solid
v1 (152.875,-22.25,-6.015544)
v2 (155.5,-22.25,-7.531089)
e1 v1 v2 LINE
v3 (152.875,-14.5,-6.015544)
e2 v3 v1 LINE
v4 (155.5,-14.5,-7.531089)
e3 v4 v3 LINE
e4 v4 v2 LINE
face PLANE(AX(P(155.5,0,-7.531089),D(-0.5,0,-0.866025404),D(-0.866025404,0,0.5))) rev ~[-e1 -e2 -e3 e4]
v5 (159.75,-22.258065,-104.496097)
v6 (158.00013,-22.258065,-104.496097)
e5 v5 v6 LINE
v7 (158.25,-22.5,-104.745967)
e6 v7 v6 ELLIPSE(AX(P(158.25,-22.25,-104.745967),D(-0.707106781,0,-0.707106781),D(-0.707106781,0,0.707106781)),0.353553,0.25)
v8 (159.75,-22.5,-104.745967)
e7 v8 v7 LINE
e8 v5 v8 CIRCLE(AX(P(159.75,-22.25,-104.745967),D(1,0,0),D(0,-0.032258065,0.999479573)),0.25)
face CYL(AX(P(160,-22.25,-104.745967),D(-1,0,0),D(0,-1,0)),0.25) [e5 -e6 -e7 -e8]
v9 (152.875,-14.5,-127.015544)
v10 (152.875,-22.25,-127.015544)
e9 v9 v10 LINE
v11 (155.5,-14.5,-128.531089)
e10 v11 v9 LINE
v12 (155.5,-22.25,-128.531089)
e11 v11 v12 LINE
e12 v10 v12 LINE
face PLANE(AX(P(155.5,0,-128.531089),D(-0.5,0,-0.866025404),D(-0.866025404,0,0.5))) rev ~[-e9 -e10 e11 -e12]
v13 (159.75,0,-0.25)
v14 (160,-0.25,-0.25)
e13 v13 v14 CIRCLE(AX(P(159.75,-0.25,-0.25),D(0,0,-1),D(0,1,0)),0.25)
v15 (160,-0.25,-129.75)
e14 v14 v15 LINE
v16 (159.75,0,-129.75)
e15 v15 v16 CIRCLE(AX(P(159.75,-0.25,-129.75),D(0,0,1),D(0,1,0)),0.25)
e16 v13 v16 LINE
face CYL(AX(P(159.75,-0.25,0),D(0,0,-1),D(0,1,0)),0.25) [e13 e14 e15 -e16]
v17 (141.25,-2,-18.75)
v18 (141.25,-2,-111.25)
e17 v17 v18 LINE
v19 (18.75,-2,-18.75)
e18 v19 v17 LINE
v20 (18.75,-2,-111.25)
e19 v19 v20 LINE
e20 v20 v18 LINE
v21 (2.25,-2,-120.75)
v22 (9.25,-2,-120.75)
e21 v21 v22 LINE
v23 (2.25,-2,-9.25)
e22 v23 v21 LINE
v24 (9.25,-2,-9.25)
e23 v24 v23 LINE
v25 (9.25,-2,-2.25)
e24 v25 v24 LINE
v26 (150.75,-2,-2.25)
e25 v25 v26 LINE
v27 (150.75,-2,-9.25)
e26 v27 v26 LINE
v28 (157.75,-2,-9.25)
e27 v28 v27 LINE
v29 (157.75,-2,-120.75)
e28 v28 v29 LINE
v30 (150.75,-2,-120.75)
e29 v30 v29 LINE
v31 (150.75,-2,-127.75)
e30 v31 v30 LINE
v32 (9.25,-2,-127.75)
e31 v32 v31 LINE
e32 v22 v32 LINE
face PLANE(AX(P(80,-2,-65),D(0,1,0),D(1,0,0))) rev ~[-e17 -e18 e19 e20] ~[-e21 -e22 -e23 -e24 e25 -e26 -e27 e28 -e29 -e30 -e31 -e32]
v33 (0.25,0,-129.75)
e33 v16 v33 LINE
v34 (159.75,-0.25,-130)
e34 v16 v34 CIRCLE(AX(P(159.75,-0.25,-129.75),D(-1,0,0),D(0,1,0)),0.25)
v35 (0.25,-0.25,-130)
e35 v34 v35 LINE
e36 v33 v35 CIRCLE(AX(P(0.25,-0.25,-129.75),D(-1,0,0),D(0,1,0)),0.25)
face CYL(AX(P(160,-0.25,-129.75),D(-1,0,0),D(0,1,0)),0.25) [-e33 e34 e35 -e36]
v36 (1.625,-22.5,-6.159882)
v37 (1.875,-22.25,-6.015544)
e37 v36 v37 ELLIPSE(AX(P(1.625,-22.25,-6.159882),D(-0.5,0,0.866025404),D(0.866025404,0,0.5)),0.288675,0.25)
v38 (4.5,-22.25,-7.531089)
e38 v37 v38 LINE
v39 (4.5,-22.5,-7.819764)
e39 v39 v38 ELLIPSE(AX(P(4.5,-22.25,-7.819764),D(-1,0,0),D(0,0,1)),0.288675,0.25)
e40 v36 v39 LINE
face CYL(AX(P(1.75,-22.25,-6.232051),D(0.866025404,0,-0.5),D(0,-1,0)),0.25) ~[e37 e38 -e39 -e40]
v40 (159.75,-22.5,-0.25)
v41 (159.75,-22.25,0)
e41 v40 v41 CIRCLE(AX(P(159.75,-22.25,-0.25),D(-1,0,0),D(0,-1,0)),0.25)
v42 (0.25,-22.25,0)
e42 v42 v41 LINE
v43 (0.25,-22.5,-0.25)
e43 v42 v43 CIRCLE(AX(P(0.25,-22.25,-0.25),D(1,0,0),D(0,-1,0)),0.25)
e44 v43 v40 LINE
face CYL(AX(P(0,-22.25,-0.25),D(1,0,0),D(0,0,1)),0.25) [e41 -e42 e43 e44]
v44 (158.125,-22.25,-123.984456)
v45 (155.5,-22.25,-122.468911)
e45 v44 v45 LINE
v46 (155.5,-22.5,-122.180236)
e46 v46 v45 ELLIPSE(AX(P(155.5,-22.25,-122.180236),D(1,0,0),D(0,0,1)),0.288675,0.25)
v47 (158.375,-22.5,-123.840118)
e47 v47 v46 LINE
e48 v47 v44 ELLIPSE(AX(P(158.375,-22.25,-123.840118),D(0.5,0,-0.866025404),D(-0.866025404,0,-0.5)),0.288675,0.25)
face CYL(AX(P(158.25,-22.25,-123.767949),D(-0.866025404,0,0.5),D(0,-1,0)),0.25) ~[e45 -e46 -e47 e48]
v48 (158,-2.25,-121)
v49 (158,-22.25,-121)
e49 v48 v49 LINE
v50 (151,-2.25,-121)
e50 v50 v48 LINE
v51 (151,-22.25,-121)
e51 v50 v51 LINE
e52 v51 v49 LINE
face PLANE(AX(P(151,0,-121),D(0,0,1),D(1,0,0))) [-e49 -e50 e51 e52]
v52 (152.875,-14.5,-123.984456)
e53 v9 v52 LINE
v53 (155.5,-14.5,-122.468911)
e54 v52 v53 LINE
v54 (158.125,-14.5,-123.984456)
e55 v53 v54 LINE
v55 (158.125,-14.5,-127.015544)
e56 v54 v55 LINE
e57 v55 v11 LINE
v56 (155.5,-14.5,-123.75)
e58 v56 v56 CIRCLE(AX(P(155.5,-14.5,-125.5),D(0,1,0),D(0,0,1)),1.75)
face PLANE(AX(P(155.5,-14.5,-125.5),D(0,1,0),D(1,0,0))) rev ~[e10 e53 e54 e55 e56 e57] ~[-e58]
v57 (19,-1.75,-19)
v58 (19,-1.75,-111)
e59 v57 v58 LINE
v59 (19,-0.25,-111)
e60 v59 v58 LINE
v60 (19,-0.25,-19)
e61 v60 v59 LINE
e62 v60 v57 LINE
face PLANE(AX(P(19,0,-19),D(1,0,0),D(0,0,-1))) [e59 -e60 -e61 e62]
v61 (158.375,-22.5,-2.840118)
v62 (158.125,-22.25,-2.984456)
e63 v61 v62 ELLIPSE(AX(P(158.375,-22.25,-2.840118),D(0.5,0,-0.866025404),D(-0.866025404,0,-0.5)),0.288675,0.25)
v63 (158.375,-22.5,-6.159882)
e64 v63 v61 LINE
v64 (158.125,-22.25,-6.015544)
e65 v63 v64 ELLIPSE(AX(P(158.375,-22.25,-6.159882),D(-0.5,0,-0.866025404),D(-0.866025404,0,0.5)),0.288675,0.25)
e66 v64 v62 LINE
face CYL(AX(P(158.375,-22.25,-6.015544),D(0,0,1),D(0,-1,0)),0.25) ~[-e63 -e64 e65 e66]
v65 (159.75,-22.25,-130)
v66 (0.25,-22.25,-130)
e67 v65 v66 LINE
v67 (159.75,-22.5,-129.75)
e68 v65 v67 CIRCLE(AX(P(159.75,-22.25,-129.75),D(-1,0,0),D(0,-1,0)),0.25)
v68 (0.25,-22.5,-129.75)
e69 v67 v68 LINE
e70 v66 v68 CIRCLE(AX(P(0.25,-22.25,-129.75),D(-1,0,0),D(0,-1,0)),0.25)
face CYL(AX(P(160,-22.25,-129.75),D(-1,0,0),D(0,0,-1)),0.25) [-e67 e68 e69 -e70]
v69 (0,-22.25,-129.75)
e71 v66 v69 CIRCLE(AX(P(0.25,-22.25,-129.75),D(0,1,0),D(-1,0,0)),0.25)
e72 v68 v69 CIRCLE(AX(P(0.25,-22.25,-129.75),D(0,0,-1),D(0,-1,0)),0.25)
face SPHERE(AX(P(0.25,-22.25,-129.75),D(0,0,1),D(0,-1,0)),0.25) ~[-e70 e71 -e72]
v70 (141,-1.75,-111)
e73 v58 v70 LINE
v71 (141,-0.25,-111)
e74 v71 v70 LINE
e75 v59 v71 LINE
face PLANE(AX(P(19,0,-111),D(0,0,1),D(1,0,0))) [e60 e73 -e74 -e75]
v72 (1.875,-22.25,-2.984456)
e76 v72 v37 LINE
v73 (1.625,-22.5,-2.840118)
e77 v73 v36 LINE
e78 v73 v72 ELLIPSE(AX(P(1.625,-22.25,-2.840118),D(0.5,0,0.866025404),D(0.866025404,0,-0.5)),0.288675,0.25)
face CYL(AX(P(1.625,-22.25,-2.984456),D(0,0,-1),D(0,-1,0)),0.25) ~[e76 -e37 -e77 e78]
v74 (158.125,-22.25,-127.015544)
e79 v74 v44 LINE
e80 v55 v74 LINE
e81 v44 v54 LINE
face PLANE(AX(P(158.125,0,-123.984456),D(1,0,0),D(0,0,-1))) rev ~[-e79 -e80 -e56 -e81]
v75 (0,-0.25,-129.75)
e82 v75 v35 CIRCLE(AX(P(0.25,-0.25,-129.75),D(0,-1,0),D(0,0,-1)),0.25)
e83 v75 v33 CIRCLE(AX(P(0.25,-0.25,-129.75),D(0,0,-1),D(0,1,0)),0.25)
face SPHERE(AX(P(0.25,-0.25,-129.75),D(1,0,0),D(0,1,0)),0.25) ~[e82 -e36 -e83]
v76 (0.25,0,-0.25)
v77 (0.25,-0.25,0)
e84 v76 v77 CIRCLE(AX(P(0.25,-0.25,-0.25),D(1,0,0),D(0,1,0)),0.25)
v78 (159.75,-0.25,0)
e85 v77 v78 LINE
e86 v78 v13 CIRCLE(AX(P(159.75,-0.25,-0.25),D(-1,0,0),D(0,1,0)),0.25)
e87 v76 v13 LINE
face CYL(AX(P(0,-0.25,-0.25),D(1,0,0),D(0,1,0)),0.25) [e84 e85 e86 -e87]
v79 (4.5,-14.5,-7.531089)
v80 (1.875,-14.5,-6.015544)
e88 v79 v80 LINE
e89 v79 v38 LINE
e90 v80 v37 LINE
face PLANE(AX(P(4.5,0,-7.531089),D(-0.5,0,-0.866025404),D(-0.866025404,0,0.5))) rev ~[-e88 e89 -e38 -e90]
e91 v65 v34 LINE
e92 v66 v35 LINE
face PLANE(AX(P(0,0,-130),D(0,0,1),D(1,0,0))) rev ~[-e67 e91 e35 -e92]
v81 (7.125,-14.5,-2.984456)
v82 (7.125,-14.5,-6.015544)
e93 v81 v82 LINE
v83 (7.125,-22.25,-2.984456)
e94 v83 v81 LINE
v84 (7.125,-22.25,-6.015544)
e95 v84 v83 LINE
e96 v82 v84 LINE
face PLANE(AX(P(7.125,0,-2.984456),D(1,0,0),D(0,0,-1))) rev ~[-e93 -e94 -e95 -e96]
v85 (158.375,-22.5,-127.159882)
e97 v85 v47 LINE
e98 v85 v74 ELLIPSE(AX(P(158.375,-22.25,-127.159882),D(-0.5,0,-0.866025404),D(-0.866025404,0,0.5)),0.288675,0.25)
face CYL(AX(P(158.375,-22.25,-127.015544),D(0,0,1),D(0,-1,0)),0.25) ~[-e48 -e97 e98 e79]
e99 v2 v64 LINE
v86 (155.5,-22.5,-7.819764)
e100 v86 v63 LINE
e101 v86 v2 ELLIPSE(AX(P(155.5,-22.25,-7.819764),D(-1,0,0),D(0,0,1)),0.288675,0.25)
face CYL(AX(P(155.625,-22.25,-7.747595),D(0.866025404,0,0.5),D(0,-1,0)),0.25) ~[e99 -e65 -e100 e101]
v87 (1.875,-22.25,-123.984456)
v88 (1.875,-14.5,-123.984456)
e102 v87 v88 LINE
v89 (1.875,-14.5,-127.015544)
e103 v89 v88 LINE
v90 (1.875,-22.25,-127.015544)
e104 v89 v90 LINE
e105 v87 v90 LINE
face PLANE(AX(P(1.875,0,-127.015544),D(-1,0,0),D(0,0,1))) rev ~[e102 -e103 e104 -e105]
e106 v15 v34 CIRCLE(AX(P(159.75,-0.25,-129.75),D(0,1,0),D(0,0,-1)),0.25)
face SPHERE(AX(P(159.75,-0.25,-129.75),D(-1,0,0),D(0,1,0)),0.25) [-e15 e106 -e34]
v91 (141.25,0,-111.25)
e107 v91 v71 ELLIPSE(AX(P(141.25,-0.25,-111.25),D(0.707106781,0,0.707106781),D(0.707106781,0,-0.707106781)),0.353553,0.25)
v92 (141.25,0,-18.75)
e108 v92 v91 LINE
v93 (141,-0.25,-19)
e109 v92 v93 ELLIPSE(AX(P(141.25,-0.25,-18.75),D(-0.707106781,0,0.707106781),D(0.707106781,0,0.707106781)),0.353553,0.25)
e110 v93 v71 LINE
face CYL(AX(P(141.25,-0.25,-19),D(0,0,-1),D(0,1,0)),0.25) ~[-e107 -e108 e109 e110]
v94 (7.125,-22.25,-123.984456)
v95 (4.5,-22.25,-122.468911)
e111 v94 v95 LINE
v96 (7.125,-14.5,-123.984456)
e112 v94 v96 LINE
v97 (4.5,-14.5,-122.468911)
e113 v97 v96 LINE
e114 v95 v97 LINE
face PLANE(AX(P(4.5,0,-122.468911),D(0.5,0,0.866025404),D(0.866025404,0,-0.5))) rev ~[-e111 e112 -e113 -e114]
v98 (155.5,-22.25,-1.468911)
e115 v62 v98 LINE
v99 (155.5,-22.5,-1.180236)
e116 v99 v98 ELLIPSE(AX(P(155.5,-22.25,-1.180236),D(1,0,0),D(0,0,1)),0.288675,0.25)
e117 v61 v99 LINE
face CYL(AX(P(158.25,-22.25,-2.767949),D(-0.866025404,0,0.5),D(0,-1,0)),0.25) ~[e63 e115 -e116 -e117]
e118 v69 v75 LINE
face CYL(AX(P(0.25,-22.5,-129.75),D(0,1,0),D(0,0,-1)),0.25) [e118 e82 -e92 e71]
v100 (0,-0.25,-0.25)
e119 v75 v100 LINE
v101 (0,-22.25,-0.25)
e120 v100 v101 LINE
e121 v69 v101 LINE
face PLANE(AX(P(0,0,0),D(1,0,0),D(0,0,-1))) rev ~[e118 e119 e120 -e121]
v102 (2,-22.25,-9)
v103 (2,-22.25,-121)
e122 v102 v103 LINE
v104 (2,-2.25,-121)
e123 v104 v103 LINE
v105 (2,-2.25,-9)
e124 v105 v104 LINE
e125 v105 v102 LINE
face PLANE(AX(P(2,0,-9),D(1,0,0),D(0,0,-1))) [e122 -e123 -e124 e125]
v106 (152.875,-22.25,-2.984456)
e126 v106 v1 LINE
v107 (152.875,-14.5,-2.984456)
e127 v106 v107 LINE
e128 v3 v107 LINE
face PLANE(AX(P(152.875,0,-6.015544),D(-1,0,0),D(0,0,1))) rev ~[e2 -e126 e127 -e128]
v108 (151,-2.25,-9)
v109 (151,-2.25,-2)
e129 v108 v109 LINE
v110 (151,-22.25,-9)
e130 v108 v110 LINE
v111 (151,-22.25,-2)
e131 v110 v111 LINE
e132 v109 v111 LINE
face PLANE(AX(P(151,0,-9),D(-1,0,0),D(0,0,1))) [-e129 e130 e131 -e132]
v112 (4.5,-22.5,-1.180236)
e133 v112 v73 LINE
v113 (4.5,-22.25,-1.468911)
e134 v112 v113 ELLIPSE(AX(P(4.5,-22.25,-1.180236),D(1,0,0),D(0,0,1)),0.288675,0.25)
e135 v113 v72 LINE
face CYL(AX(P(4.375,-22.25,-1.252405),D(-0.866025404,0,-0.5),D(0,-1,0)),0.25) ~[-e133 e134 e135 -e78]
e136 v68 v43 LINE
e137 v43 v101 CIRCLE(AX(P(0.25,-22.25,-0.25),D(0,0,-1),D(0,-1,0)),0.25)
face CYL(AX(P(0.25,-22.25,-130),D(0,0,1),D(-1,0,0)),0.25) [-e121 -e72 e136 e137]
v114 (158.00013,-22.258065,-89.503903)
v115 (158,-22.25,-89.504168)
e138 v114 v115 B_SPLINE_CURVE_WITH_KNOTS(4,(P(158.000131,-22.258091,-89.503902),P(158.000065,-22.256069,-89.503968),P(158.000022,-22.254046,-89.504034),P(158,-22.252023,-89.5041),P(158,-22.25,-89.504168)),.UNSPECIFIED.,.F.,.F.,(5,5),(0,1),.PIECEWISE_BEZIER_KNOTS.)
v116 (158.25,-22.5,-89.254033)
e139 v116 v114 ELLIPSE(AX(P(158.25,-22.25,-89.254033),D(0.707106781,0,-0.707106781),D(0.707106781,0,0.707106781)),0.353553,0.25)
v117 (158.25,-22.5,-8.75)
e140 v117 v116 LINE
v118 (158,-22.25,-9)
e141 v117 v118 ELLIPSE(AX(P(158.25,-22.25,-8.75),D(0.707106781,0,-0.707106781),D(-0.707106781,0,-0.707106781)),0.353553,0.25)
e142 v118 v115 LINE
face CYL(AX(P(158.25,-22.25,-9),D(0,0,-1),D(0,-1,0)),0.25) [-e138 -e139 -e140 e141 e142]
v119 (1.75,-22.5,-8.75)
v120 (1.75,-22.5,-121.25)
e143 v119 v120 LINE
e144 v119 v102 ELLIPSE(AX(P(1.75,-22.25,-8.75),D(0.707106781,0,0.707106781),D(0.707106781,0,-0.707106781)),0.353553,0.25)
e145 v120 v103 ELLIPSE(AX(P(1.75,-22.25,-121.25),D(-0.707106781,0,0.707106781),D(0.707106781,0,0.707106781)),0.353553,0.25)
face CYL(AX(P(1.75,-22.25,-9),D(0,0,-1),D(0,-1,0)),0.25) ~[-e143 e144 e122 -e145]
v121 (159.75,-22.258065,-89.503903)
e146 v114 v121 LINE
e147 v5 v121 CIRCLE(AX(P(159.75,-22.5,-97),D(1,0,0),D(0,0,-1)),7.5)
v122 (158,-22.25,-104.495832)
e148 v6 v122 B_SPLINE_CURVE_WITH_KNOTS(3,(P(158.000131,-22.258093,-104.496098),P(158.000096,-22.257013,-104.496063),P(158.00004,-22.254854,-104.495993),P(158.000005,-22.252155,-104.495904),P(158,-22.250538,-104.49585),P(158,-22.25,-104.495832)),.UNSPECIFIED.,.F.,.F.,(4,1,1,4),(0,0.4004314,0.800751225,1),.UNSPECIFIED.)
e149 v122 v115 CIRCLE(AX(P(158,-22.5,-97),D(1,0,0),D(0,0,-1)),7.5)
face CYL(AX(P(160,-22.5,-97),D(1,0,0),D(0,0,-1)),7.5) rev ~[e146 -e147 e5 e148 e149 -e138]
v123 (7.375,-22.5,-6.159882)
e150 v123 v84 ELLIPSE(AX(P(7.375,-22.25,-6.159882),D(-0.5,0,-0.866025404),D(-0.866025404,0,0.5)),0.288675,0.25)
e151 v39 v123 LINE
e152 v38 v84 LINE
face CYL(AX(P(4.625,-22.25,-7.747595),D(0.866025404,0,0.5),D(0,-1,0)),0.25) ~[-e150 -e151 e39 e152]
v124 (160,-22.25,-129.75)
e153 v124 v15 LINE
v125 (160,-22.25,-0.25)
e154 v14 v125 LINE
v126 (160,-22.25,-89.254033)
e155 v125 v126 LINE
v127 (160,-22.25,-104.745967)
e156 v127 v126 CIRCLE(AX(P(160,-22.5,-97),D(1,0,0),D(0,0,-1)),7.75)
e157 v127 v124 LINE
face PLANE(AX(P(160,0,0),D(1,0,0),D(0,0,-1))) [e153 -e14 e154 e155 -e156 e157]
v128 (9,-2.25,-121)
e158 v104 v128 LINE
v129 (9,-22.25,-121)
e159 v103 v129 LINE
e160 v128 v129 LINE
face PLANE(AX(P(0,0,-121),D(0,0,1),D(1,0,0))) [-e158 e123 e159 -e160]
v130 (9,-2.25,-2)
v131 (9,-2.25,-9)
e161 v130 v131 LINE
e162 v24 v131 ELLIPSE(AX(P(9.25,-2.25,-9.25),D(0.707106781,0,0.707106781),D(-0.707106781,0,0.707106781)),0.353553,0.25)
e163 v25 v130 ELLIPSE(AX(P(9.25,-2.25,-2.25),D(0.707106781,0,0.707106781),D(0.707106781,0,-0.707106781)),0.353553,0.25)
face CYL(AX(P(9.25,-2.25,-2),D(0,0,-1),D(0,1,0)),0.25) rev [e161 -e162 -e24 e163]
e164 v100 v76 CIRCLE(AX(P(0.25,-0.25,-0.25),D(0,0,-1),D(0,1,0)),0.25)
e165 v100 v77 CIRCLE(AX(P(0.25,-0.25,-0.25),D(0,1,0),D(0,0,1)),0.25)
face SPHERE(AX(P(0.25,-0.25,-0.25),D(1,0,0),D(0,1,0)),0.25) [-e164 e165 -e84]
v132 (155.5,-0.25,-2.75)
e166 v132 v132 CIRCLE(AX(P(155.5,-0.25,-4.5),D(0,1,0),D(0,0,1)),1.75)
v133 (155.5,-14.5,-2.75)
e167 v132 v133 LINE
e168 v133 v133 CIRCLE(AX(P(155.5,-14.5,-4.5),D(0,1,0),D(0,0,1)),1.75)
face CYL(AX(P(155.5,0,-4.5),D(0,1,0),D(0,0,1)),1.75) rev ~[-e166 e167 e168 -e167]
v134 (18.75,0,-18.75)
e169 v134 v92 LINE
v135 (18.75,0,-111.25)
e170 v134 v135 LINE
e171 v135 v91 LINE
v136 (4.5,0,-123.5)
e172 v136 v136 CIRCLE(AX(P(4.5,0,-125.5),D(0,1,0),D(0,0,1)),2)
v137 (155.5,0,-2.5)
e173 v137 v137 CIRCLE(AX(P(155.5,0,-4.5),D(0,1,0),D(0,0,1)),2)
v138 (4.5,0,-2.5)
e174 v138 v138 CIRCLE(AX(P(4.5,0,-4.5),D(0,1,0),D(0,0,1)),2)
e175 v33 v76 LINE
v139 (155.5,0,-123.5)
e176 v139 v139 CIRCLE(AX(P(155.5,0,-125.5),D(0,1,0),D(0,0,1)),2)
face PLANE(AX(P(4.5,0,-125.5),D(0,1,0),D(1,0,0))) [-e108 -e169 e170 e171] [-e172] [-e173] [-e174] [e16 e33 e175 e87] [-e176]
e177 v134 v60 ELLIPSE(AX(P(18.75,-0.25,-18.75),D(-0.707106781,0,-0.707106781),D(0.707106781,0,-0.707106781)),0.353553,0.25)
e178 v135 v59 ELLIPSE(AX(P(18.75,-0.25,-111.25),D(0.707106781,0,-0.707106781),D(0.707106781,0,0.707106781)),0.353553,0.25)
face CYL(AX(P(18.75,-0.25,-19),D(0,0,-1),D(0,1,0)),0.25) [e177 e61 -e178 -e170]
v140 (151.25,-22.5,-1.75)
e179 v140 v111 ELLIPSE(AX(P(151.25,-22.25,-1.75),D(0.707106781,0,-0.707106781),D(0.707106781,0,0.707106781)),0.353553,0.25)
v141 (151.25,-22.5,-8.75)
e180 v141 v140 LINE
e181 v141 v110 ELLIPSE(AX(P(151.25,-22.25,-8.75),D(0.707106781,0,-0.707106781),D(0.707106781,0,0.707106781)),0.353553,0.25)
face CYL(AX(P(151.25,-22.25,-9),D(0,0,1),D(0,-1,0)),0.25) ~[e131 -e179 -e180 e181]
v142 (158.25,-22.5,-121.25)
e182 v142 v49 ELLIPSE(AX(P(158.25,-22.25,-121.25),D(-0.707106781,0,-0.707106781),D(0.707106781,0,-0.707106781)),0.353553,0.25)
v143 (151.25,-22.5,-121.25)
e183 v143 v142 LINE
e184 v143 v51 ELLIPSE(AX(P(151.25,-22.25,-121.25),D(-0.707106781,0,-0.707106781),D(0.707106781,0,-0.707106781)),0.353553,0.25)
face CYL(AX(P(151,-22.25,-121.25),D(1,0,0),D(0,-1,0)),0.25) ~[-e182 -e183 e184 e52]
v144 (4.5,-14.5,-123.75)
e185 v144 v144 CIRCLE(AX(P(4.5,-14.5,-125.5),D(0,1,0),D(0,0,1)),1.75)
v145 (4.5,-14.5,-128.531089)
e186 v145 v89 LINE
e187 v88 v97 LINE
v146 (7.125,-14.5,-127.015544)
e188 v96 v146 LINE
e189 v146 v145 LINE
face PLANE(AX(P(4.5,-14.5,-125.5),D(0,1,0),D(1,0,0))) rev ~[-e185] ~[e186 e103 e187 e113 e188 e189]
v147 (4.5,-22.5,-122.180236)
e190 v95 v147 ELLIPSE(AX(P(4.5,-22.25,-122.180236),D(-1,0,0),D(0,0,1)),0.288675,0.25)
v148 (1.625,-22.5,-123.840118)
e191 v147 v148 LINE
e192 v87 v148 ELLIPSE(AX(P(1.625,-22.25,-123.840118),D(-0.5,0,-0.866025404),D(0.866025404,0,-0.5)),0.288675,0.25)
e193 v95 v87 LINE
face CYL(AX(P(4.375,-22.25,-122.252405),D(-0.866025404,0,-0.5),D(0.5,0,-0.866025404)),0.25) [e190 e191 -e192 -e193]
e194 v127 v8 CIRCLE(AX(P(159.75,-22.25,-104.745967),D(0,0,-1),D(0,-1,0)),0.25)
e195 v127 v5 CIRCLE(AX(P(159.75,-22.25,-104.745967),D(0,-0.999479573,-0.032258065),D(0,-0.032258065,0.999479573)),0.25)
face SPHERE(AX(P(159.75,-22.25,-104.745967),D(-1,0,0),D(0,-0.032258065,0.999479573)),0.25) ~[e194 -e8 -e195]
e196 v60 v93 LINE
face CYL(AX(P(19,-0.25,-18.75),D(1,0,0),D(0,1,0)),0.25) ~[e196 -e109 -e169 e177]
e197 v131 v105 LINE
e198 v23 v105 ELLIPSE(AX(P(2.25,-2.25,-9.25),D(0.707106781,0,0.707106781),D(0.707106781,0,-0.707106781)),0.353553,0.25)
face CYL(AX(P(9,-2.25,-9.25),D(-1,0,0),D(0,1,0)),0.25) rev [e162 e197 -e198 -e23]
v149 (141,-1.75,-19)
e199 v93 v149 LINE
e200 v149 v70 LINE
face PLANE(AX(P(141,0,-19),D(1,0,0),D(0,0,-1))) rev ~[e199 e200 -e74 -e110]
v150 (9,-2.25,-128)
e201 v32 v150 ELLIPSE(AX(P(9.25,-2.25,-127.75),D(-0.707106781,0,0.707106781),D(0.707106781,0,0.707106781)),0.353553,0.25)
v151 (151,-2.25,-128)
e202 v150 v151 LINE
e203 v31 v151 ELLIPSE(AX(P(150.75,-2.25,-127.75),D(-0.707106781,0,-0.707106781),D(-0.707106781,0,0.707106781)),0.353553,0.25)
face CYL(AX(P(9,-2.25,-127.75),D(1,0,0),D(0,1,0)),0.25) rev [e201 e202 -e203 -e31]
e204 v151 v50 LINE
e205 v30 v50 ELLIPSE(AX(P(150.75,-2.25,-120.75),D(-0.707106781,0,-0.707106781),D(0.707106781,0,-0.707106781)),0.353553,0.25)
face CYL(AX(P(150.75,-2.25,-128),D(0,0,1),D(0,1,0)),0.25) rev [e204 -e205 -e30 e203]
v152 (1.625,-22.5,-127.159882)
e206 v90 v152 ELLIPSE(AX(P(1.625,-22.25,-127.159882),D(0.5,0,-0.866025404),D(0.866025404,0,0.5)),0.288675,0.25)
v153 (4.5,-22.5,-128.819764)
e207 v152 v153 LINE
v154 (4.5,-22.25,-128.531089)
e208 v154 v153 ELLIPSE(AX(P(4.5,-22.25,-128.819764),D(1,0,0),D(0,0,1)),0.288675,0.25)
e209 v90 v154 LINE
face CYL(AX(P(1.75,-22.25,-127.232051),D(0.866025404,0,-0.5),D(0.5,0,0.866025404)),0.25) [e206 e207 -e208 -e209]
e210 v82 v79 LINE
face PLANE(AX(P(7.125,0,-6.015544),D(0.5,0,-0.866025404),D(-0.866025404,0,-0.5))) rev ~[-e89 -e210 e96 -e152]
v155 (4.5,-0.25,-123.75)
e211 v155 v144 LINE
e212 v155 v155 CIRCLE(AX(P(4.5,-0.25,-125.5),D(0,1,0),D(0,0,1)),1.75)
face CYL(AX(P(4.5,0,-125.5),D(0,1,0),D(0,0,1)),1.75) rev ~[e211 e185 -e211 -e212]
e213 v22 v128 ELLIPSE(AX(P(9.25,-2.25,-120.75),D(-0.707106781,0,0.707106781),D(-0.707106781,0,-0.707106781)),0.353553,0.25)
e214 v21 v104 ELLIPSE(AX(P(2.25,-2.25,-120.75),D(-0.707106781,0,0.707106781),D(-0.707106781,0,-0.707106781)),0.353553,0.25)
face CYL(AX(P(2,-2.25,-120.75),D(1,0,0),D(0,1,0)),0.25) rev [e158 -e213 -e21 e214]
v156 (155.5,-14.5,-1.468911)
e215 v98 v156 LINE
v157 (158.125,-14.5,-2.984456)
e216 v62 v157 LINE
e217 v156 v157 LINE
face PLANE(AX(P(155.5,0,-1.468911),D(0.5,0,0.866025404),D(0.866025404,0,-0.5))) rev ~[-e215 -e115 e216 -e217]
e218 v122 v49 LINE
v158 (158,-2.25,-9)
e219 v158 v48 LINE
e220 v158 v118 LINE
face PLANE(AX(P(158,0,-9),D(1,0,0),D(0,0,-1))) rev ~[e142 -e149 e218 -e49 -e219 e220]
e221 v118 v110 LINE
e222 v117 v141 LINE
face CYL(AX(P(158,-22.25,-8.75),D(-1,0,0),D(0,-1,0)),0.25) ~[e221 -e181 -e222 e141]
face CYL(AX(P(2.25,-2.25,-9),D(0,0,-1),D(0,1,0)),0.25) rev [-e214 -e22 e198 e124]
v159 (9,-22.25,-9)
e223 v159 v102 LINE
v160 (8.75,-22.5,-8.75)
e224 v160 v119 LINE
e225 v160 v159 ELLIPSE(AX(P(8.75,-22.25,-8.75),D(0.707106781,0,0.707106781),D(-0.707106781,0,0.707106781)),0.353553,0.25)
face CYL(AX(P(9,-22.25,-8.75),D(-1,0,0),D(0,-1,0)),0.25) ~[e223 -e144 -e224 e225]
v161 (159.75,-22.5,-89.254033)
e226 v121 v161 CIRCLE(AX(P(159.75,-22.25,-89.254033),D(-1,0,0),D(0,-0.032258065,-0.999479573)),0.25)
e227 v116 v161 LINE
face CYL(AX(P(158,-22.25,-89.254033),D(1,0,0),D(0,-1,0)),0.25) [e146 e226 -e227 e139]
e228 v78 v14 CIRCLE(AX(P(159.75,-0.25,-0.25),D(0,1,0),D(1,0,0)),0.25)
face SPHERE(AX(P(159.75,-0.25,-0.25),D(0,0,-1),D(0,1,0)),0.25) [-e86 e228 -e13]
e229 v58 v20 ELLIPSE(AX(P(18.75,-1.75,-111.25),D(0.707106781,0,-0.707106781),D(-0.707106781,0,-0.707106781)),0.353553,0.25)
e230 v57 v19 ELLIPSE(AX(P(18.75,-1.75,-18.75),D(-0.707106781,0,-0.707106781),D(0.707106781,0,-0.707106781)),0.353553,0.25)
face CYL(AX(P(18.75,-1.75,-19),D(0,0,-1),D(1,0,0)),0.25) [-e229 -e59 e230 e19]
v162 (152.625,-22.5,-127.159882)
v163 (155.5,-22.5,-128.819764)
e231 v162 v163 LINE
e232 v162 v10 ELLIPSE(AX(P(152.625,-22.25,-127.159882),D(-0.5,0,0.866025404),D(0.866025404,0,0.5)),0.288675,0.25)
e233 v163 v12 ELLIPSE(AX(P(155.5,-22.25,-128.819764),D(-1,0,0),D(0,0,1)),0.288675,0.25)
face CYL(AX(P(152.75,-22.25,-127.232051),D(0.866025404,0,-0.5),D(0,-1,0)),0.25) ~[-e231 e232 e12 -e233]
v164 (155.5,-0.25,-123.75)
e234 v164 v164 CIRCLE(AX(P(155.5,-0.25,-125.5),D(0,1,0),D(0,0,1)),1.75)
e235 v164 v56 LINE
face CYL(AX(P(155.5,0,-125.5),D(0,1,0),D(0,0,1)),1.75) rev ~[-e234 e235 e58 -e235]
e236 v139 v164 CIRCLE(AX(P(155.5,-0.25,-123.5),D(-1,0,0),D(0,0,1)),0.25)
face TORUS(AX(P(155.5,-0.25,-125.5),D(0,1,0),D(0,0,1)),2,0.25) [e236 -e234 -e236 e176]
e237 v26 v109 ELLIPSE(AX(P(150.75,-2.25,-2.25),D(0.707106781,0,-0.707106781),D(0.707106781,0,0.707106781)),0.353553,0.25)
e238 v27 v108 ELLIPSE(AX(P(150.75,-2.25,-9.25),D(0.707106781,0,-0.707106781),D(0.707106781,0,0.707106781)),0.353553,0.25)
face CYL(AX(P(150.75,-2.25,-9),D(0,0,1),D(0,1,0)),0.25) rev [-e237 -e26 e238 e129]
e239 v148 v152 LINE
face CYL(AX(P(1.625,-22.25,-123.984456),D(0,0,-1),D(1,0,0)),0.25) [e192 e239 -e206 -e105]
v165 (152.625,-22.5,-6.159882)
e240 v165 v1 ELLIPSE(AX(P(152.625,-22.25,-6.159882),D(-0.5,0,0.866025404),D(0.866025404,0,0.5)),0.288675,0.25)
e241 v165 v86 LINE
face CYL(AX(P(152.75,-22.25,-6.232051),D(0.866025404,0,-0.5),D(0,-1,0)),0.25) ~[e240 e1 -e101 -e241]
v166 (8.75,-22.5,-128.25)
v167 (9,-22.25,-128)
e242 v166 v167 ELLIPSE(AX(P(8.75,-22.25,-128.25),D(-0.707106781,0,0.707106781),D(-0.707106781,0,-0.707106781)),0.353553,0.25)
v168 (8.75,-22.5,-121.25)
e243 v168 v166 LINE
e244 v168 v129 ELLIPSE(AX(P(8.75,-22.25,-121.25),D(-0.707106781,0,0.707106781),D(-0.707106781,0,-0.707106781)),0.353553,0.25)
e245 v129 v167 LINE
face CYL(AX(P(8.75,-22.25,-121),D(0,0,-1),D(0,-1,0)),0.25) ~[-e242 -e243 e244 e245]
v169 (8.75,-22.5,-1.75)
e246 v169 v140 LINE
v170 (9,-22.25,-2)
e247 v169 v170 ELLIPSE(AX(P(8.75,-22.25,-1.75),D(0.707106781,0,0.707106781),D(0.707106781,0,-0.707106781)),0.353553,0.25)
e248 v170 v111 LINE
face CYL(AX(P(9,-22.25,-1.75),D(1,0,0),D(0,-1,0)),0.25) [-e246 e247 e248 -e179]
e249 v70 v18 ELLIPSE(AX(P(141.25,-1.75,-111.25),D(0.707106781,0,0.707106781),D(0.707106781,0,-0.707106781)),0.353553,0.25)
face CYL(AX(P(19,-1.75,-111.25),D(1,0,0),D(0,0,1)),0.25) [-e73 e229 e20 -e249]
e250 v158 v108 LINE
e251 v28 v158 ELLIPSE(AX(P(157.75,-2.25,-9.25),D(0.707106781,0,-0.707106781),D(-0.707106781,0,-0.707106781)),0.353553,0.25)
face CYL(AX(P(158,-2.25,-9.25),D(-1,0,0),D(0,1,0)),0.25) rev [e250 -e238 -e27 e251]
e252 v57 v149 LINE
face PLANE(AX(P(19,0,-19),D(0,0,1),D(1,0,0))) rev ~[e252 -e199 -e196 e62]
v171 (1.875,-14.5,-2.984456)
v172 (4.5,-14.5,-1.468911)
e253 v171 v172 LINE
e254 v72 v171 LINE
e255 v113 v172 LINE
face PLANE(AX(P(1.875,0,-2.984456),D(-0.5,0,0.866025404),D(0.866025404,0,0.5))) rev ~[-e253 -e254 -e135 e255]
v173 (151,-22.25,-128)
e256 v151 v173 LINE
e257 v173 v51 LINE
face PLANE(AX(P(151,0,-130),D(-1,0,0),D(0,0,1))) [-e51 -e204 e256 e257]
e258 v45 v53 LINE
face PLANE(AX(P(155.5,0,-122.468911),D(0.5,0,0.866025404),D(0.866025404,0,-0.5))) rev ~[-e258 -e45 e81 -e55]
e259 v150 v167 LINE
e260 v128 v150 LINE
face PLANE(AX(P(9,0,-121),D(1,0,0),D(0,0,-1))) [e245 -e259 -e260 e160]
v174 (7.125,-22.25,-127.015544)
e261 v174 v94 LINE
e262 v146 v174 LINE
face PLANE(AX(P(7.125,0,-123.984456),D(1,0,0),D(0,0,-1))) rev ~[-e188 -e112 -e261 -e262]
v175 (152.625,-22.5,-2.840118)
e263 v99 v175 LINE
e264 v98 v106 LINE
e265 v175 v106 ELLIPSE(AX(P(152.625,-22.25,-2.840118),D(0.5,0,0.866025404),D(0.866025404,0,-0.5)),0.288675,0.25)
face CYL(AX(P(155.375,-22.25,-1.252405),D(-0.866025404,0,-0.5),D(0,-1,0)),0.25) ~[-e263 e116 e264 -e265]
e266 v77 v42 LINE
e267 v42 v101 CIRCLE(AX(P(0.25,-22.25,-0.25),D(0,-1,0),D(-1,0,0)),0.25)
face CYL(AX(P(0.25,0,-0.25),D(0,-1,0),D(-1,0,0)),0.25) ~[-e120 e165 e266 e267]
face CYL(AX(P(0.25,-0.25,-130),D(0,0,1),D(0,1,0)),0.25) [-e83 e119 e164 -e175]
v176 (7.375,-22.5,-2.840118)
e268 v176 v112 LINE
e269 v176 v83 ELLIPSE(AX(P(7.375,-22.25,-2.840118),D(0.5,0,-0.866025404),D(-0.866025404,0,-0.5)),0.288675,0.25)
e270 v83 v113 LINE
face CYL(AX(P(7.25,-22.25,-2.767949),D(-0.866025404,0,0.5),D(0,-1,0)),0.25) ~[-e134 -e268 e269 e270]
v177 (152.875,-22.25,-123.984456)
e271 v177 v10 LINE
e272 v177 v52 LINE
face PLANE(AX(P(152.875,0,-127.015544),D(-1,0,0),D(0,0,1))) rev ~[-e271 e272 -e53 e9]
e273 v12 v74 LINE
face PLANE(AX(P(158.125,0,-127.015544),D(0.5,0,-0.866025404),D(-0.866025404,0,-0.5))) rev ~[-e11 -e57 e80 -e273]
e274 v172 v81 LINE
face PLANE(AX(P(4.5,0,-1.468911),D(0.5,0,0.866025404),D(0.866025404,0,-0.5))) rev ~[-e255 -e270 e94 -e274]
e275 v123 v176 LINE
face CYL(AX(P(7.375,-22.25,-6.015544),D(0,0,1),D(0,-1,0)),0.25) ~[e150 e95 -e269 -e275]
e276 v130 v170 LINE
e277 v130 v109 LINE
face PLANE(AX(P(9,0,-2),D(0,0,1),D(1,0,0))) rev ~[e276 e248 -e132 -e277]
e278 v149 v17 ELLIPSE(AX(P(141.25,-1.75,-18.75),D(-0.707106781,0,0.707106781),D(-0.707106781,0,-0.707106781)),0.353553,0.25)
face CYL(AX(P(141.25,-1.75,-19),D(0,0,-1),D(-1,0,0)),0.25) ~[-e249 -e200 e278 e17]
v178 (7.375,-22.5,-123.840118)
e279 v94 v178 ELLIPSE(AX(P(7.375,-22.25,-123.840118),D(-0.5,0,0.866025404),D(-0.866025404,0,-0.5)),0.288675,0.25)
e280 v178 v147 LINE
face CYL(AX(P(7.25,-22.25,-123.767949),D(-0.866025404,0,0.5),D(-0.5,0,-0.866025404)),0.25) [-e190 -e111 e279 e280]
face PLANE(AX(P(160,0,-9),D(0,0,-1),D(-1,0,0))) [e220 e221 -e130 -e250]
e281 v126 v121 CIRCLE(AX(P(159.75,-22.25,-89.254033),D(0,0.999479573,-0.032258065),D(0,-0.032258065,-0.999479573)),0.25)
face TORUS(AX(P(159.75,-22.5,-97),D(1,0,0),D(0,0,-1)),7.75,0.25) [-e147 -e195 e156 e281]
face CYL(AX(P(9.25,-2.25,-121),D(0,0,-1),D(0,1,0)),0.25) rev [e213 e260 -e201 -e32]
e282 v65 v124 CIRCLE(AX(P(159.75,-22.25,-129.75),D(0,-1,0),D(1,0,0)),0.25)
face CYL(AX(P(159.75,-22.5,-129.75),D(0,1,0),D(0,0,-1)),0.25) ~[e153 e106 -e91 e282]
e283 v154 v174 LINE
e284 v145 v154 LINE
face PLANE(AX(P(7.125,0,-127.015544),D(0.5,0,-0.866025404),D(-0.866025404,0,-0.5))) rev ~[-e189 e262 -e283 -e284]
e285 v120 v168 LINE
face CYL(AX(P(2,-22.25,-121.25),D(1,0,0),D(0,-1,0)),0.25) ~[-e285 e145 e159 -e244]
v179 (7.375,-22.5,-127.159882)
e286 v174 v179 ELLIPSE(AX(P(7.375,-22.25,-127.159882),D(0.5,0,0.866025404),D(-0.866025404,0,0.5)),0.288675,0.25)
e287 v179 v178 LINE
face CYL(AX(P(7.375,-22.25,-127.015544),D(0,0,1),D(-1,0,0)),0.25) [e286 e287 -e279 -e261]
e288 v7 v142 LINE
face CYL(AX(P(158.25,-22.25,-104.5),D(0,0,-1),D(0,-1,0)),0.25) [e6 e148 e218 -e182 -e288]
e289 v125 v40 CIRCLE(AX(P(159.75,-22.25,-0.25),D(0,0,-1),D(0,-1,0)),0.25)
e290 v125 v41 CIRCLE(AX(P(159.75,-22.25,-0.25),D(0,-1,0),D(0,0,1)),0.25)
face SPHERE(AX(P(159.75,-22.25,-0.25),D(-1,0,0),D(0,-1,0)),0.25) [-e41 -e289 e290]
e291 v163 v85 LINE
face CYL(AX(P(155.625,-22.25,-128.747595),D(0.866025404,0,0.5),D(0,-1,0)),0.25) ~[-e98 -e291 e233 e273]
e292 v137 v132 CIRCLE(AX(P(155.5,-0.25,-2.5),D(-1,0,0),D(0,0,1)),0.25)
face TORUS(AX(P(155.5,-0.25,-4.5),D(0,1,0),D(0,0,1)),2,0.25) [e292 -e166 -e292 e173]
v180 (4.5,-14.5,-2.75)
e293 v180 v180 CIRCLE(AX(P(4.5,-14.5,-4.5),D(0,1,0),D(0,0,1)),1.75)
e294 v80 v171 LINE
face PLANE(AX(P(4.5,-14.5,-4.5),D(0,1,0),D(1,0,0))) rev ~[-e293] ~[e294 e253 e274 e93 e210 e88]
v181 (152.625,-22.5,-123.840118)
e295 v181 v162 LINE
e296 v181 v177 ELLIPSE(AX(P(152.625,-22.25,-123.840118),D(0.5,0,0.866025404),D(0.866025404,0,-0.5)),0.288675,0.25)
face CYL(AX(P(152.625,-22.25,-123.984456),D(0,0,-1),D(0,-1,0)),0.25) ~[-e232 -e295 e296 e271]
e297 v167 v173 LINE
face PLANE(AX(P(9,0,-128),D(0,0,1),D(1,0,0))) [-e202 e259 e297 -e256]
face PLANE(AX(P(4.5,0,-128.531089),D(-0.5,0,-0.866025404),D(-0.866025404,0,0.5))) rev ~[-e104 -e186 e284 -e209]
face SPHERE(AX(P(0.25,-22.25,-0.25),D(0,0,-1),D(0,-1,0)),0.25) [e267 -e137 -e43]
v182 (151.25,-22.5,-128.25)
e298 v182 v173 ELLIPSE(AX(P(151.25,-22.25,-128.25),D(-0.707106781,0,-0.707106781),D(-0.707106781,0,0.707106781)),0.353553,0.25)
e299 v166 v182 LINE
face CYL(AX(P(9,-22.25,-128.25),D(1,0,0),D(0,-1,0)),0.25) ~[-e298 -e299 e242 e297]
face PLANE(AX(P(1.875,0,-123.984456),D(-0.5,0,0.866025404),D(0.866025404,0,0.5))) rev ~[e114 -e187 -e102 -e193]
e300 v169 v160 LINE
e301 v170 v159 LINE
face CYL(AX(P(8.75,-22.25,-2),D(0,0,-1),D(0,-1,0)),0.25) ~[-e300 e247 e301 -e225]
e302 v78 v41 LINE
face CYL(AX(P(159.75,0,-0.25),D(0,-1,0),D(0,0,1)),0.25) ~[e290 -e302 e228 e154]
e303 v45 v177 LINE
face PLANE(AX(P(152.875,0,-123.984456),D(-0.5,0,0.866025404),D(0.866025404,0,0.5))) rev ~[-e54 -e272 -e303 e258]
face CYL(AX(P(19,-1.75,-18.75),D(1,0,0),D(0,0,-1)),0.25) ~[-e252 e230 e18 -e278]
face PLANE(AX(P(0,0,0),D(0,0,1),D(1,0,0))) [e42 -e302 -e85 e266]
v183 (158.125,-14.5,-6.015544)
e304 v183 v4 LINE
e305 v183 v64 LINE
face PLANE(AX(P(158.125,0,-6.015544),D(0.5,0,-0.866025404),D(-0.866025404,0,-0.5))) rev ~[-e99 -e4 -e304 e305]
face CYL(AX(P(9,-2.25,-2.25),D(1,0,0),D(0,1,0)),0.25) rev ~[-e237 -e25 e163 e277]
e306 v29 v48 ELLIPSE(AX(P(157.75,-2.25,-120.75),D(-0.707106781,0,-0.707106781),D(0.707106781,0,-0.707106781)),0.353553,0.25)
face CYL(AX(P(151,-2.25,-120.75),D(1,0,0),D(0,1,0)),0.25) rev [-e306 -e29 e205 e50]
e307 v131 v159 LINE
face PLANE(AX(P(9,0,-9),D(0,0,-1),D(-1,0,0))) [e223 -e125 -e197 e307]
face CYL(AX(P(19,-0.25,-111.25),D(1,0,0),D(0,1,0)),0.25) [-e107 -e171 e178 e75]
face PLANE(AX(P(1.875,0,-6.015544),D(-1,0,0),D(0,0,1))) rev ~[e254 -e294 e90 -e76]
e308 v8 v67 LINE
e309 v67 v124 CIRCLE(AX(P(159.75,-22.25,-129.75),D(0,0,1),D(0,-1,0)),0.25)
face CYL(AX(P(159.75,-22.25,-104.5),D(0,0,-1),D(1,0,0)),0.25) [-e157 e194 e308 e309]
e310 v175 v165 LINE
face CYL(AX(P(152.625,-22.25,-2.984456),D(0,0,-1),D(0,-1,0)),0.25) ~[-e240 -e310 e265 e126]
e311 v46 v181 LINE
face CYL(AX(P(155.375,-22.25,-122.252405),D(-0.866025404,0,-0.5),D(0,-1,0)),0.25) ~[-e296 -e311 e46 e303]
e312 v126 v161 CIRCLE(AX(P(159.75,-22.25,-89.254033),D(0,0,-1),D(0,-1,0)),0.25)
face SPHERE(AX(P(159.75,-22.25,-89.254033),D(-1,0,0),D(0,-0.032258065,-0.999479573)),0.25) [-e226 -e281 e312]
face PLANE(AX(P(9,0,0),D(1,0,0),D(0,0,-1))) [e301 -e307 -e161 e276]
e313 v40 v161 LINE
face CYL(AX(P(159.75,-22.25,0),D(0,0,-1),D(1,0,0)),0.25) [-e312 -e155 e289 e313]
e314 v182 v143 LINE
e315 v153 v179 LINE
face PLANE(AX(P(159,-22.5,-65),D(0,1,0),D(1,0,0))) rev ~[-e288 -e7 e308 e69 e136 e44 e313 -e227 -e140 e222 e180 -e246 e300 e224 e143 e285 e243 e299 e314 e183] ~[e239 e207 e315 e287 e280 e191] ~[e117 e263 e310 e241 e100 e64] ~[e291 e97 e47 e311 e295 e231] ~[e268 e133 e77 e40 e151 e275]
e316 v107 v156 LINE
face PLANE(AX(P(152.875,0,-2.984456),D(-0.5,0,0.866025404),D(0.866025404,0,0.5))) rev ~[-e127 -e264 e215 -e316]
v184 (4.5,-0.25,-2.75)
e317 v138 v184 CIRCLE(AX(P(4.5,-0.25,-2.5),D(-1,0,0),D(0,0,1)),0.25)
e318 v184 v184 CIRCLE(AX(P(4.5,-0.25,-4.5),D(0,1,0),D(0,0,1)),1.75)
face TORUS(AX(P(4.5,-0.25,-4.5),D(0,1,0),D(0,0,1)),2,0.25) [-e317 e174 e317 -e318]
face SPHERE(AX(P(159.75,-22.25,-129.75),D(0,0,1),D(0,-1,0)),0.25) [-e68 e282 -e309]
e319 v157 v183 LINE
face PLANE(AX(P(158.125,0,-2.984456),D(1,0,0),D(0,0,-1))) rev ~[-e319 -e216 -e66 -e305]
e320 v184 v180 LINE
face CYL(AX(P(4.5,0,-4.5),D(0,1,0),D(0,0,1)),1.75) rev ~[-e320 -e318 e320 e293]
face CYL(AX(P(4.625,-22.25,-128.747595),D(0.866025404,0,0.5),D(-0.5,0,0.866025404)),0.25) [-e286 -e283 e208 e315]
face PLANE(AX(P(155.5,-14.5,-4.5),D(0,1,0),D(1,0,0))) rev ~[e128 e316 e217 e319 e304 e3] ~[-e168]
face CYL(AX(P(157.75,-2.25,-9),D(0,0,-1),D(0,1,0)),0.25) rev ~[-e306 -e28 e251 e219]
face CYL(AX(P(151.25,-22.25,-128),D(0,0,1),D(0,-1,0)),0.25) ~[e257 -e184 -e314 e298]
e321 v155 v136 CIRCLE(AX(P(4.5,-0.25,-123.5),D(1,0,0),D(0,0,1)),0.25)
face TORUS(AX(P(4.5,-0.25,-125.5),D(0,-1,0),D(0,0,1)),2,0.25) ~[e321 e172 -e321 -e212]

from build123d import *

# Parameters (mm, degrees)
SKETCH1_W           = 160
SKETCH1_H           = 130
SKETCH1_W_2         = 122
SKETCH1_H_2         = 92
BOSS_EXTRUDE1_DEPTH = 2
SKETCH1_3_W         = 2
SKETCH1_3_H         = 112
SKETCH1_3_W_2       = 142
SKETCH1_3_H_2       = 2
BOSS_EXTRUDE3_DEPTH = 22.5
SKETCH1_5_R         = 1.75
BOSS_EXTRUDE5_DEPTH = 14.5
SKETCH3_R           = 7.5
CUT_EXTRUDE1_DEPTH  = 4.5
FILLET1_R           = 0.25


with BuildPart() as part:
    # Sketch1 → Boss-Extrude1 (new body)
    with BuildSketch(Plane(origin=(0, 0, 0), x_dir=(1, 0, 0), z_dir=(0, 1, 0))):
        with Locations((80, 65)):
            Rectangle(SKETCH1_W, SKETCH1_H)
        with Locations((80, 65)):
            Rectangle(SKETCH1_W_2, SKETCH1_H_2, mode=Mode.SUBTRACT)
        Polygon((7.125, 123.984455543), (7.125, 127.015544457), (4.5, 128.531088913), (1.875, 127.015544457), (1.875, 123.984455543), (4.5, 122.468911087), align=None, mode=Mode.SUBTRACT)
        Polygon((158.125, 123.984455543), (158.125, 127.015544457), (155.5, 128.531088913), (152.875, 127.015544457), (152.875, 123.984455543), (155.5, 122.468911087), align=None, mode=Mode.SUBTRACT)
        Polygon((158.125, 2.984455543), (158.125, 6.015544457), (155.5, 7.531088913), (152.875, 6.015544457), (152.875, 2.984455543), (155.5, 1.468911087), align=None, mode=Mode.SUBTRACT)
        Polygon((7.125, 2.984455543), (7.125, 6.015544457), (4.5, 7.531088913), (1.875, 6.015544457), (1.875, 2.984455543), (4.5, 1.468911087), align=None, mode=Mode.SUBTRACT)
    extrude(amount=-BOSS_EXTRUDE1_DEPTH)

    # Sketch1<3> → Boss-Extrude3 (add)
    # profile 1 of 8: a face of its own
    with BuildSketch(Plane(origin=(0, 0, 0), x_dir=(1, 0, 0), z_dir=(0, 1, 0))):
        with Locations((159, 65)):
            Rectangle(SKETCH1_3_W, SKETCH1_3_H)
    # profile 2 of 8: a face of its own
    with BuildSketch(Plane(origin=(0, 0, 0), x_dir=(1, 0, 0), z_dir=(0, 1, 0))):
        Polygon((160, 130), (151, 130), (151, 128), (151, 121), (158, 121), (160, 121), align=None)
        Polygon((158.125, 127.015544457), (158.125, 123.984455543), (155.5, 122.468911087), (152.875, 123.984455543), (152.875, 127.015544457), (155.5, 128.531088913), align=None, mode=Mode.SUBTRACT)
    # profile 3 of 8: a face of its own
    with BuildSketch(Plane(origin=(0, 0, 0), x_dir=(1, 0, 0), z_dir=(0, 1, 0))):
        with Locations((80, 129)):
            Rectangle(SKETCH1_3_W_2, SKETCH1_3_H_2)
    # profile 4 of 8: a face of its own
    with BuildSketch(Plane(origin=(0, 0, 0), x_dir=(1, 0, 0), z_dir=(0, 1, 0))):
        Polygon((0, 130), (0, 121), (2, 121), (9, 121), (9, 128), (9, 130), align=None)
        Polygon((7.125, 127.015544457), (7.125, 123.984455543), (4.5, 122.468911087), (1.875, 123.984455543), (1.875, 127.015544457), (4.5, 128.531088913), align=None, mode=Mode.SUBTRACT)
    # profile 5 of 8: a face of its own
    with BuildSketch(Plane(origin=(0, 0, 0), x_dir=(1, 0, 0), z_dir=(0, 1, 0))):
        with Locations((1, 65)):
            Rectangle(SKETCH1_3_W, SKETCH1_3_H)
    # profile 6 of 8: a face of its own
    with BuildSketch(Plane(origin=(0, 0, 0), x_dir=(1, 0, 0), z_dir=(0, 1, 0))):
        Polygon((151, 2), (151, 0), (160, 0), (160, 9), (158, 9), (151, 9), align=None)
        Polygon((158.125, 6.015544457), (158.125, 2.984455543), (155.5, 1.468911087), (152.875, 2.984455543), (152.875, 6.015544457), (155.5, 7.531088913), align=None, mode=Mode.SUBTRACT)
    # profile 7 of 8: a face of its own
    with BuildSketch(Plane(origin=(0, 0, 0), x_dir=(1, 0, 0), z_dir=(0, 1, 0))):
        with Locations((80, 1)):
            Rectangle(SKETCH1_3_W_2, SKETCH1_3_H_2)
    # profile 8 of 8: a face of its own
    with BuildSketch(Plane(origin=(0, 0, 0), x_dir=(1, 0, 0), z_dir=(0, 1, 0))):
        Polygon((2, 9), (0, 9), (0, 0), (9, 0), (9, 2), (9, 9), align=None)
        Polygon((7.125, 6.015544457), (7.125, 2.984455543), (4.5, 1.468911087), (1.875, 2.984455543), (1.875, 6.015544457), (4.5, 7.531088913), align=None, mode=Mode.SUBTRACT)
    extrude(amount=-BOSS_EXTRUDE3_DEPTH)

    # Sketch1<5> → Boss-Extrude5 (add)
    # profile 1 of 4: a face of its own
    with BuildSketch(Plane(origin=(0, 0, 0), x_dir=(1, 0, 0), z_dir=(0, 1, 0))):
        Polygon((1.875, 123.984455543), (4.5, 122.468911087), (7.125, 123.984455543), (7.125, 127.015544457), (4.5, 128.531088913), (1.875, 127.015544457), align=None)
        with Locations(Location((4.5, 125.5, 0), (0, 0, 270))):
            Circle(SKETCH1_5_R, mode=Mode.SUBTRACT)
    # profile 2 of 4: a face of its own
    with BuildSketch(Plane(origin=(0, 0, 0), x_dir=(1, 0, 0), z_dir=(0, 1, 0))):
        Polygon((1.875, 2.984455543), (4.5, 1.468911087), (7.125, 2.984455543), (7.125, 6.015544457), (4.5, 7.531088913), (1.875, 6.015544457), align=None)
        with Locations(Location((4.5, 4.5, 0), (0, 0, 270))):
            Circle(SKETCH1_5_R, mode=Mode.SUBTRACT)
    # profile 3 of 4: a face of its own
    with BuildSketch(Plane(origin=(0, 0, 0), x_dir=(1, 0, 0), z_dir=(0, 1, 0))):
        Polygon((152.875, 2.984455543), (155.5, 1.468911087), (158.125, 2.984455543), (158.125, 6.015544457), (155.5, 7.531088913), (152.875, 6.015544457), align=None)
        with Locations(Location((155.5, 4.5, 0), (0, 0, 270))):
            Circle(SKETCH1_5_R, mode=Mode.SUBTRACT)
    # profile 4 of 4: a face of its own
    with BuildSketch(Plane(origin=(0, 0, 0), x_dir=(1, 0, 0), z_dir=(0, 1, 0))):
        Polygon((152.875, 123.984455543), (155.5, 122.468911087), (158.125, 123.984455543), (158.125, 127.015544457), (155.5, 128.531088913), (152.875, 127.015544457), align=None)
        with Locations(Location((155.5, 125.5, 0), (0, 0, 270))):
            Circle(SKETCH1_5_R, mode=Mode.SUBTRACT)
    extrude(amount=-BOSS_EXTRUDE5_DEPTH)

    # Sketch3 → Cut-Extrude1 (cut)
    with BuildSketch(Plane(origin=(160, 0, 0), x_dir=(0, 0, -1), z_dir=(1, 0, 0))):
        with Locations((97, -22.5)):
            Circle(SKETCH3_R)
    extrude(amount=-CUT_EXTRUDE1_DEPTH, mode=Mode.SUBTRACT)

    # Fillet1
    fillet1_edges = [part.edges().sort_by_distance(p)[0] for p in [
        (0, -22.5, -65),
        (80, -22.5, 0),
        (2, -2, -65),
        (5.5, -2, -9),
        (9, -2, -5.5),
        (80, -2, -2),
        (151, -2, -5.5),
        (154.5, -2, -9),
        (158, -2, -65),
        (154.5, -2, -121),
        (151, -2, -124.5),
        (80, -2, -128),
        (9, -22.5, -124.5),
        (5.5, -22.5, -121),
        (9, -2, -124.5),
        (5.5, -2, -121),
        (2, -22.5, -65),
        (5.5, -22.5, -9),
        (9, -22.5, -5.5),
        (80, -22.5, -2),
        (151, -22.5, -5.5),
        (154.5, -22.5, -9),
        (158, -22.5, -49.25),
        (154.5, -22.5, -121),
        (151, -22.5, -124.5),
        (80, -22.5, -128),
        (160, -22.5, -117.25),
        (80, -22.5, -130),
        (156.8125, -22.5, -2.226683315),
        (158.125, -22.5, -4.5),
        (156.8125, -22.5, -6.773316685),
        (154.1875, -22.5, -6.773316685),
        (152.875, -22.5, -4.5),
        (154.1875, -22.5, -2.226683315),
        (156.8125, -22.5, -123.226683315),
        (158.125, -22.5, -125.5),
        (156.8125, -22.5, -127.773316685),
        (154.1875, -22.5, -127.773316685),
        (152.875, -22.5, -125.5),
        (154.1875, -22.5, -123.226683315),
        (5.8125, -22.5, -2.226683315),
        (7.125, -22.5, -4.5),
        (5.8125, -22.5, -6.773316685),
        (3.1875, -22.5, -6.773316685),
        (1.875, -22.5, -4.5),
        (3.1875, -22.5, -2.226683315),
        (5.8125, -22.5, -123.226683315),
        (7.125, -22.5, -125.5),
        (5.8125, -22.5, -127.773316685),
        (3.1875, -22.5, -127.773316685),
        (1.875, -22.5, -125.5),
        (3.1875, -22.5, -123.226683315),
        (155.5, 0, -127.25),
        (155.5, 0, -6.25),
        (4.5, 0, -6.25),
        (4.5, 0, -127.25),
        (158, -22.5, -112.75),
        (160, -22.5, -44.75),
        (159, -22.5, -104.5),
        (159, -22.5, -89.5),
        (160, -15, -97),
        (80, 0, -19),
        (141, 0, -65),
        (80, 0, -111),
        (19, 0, -65),
        (80, 0, -130),
        (160, 0, -65),
        (80, 0, 0),
        (0, 0, -65),
        (0, -11.25, -130),
        (160, -11.25, -130),
        (160, -11.25, 0),
        (0, -11.25, 0),
        (19, -2, -65),
        (80, -2, -111),
        (141, -2, -65),
        (80, -2, -19),
    ]]
    fillet(fillet1_edges, radius=FILLET1_R)


solid = part.part
